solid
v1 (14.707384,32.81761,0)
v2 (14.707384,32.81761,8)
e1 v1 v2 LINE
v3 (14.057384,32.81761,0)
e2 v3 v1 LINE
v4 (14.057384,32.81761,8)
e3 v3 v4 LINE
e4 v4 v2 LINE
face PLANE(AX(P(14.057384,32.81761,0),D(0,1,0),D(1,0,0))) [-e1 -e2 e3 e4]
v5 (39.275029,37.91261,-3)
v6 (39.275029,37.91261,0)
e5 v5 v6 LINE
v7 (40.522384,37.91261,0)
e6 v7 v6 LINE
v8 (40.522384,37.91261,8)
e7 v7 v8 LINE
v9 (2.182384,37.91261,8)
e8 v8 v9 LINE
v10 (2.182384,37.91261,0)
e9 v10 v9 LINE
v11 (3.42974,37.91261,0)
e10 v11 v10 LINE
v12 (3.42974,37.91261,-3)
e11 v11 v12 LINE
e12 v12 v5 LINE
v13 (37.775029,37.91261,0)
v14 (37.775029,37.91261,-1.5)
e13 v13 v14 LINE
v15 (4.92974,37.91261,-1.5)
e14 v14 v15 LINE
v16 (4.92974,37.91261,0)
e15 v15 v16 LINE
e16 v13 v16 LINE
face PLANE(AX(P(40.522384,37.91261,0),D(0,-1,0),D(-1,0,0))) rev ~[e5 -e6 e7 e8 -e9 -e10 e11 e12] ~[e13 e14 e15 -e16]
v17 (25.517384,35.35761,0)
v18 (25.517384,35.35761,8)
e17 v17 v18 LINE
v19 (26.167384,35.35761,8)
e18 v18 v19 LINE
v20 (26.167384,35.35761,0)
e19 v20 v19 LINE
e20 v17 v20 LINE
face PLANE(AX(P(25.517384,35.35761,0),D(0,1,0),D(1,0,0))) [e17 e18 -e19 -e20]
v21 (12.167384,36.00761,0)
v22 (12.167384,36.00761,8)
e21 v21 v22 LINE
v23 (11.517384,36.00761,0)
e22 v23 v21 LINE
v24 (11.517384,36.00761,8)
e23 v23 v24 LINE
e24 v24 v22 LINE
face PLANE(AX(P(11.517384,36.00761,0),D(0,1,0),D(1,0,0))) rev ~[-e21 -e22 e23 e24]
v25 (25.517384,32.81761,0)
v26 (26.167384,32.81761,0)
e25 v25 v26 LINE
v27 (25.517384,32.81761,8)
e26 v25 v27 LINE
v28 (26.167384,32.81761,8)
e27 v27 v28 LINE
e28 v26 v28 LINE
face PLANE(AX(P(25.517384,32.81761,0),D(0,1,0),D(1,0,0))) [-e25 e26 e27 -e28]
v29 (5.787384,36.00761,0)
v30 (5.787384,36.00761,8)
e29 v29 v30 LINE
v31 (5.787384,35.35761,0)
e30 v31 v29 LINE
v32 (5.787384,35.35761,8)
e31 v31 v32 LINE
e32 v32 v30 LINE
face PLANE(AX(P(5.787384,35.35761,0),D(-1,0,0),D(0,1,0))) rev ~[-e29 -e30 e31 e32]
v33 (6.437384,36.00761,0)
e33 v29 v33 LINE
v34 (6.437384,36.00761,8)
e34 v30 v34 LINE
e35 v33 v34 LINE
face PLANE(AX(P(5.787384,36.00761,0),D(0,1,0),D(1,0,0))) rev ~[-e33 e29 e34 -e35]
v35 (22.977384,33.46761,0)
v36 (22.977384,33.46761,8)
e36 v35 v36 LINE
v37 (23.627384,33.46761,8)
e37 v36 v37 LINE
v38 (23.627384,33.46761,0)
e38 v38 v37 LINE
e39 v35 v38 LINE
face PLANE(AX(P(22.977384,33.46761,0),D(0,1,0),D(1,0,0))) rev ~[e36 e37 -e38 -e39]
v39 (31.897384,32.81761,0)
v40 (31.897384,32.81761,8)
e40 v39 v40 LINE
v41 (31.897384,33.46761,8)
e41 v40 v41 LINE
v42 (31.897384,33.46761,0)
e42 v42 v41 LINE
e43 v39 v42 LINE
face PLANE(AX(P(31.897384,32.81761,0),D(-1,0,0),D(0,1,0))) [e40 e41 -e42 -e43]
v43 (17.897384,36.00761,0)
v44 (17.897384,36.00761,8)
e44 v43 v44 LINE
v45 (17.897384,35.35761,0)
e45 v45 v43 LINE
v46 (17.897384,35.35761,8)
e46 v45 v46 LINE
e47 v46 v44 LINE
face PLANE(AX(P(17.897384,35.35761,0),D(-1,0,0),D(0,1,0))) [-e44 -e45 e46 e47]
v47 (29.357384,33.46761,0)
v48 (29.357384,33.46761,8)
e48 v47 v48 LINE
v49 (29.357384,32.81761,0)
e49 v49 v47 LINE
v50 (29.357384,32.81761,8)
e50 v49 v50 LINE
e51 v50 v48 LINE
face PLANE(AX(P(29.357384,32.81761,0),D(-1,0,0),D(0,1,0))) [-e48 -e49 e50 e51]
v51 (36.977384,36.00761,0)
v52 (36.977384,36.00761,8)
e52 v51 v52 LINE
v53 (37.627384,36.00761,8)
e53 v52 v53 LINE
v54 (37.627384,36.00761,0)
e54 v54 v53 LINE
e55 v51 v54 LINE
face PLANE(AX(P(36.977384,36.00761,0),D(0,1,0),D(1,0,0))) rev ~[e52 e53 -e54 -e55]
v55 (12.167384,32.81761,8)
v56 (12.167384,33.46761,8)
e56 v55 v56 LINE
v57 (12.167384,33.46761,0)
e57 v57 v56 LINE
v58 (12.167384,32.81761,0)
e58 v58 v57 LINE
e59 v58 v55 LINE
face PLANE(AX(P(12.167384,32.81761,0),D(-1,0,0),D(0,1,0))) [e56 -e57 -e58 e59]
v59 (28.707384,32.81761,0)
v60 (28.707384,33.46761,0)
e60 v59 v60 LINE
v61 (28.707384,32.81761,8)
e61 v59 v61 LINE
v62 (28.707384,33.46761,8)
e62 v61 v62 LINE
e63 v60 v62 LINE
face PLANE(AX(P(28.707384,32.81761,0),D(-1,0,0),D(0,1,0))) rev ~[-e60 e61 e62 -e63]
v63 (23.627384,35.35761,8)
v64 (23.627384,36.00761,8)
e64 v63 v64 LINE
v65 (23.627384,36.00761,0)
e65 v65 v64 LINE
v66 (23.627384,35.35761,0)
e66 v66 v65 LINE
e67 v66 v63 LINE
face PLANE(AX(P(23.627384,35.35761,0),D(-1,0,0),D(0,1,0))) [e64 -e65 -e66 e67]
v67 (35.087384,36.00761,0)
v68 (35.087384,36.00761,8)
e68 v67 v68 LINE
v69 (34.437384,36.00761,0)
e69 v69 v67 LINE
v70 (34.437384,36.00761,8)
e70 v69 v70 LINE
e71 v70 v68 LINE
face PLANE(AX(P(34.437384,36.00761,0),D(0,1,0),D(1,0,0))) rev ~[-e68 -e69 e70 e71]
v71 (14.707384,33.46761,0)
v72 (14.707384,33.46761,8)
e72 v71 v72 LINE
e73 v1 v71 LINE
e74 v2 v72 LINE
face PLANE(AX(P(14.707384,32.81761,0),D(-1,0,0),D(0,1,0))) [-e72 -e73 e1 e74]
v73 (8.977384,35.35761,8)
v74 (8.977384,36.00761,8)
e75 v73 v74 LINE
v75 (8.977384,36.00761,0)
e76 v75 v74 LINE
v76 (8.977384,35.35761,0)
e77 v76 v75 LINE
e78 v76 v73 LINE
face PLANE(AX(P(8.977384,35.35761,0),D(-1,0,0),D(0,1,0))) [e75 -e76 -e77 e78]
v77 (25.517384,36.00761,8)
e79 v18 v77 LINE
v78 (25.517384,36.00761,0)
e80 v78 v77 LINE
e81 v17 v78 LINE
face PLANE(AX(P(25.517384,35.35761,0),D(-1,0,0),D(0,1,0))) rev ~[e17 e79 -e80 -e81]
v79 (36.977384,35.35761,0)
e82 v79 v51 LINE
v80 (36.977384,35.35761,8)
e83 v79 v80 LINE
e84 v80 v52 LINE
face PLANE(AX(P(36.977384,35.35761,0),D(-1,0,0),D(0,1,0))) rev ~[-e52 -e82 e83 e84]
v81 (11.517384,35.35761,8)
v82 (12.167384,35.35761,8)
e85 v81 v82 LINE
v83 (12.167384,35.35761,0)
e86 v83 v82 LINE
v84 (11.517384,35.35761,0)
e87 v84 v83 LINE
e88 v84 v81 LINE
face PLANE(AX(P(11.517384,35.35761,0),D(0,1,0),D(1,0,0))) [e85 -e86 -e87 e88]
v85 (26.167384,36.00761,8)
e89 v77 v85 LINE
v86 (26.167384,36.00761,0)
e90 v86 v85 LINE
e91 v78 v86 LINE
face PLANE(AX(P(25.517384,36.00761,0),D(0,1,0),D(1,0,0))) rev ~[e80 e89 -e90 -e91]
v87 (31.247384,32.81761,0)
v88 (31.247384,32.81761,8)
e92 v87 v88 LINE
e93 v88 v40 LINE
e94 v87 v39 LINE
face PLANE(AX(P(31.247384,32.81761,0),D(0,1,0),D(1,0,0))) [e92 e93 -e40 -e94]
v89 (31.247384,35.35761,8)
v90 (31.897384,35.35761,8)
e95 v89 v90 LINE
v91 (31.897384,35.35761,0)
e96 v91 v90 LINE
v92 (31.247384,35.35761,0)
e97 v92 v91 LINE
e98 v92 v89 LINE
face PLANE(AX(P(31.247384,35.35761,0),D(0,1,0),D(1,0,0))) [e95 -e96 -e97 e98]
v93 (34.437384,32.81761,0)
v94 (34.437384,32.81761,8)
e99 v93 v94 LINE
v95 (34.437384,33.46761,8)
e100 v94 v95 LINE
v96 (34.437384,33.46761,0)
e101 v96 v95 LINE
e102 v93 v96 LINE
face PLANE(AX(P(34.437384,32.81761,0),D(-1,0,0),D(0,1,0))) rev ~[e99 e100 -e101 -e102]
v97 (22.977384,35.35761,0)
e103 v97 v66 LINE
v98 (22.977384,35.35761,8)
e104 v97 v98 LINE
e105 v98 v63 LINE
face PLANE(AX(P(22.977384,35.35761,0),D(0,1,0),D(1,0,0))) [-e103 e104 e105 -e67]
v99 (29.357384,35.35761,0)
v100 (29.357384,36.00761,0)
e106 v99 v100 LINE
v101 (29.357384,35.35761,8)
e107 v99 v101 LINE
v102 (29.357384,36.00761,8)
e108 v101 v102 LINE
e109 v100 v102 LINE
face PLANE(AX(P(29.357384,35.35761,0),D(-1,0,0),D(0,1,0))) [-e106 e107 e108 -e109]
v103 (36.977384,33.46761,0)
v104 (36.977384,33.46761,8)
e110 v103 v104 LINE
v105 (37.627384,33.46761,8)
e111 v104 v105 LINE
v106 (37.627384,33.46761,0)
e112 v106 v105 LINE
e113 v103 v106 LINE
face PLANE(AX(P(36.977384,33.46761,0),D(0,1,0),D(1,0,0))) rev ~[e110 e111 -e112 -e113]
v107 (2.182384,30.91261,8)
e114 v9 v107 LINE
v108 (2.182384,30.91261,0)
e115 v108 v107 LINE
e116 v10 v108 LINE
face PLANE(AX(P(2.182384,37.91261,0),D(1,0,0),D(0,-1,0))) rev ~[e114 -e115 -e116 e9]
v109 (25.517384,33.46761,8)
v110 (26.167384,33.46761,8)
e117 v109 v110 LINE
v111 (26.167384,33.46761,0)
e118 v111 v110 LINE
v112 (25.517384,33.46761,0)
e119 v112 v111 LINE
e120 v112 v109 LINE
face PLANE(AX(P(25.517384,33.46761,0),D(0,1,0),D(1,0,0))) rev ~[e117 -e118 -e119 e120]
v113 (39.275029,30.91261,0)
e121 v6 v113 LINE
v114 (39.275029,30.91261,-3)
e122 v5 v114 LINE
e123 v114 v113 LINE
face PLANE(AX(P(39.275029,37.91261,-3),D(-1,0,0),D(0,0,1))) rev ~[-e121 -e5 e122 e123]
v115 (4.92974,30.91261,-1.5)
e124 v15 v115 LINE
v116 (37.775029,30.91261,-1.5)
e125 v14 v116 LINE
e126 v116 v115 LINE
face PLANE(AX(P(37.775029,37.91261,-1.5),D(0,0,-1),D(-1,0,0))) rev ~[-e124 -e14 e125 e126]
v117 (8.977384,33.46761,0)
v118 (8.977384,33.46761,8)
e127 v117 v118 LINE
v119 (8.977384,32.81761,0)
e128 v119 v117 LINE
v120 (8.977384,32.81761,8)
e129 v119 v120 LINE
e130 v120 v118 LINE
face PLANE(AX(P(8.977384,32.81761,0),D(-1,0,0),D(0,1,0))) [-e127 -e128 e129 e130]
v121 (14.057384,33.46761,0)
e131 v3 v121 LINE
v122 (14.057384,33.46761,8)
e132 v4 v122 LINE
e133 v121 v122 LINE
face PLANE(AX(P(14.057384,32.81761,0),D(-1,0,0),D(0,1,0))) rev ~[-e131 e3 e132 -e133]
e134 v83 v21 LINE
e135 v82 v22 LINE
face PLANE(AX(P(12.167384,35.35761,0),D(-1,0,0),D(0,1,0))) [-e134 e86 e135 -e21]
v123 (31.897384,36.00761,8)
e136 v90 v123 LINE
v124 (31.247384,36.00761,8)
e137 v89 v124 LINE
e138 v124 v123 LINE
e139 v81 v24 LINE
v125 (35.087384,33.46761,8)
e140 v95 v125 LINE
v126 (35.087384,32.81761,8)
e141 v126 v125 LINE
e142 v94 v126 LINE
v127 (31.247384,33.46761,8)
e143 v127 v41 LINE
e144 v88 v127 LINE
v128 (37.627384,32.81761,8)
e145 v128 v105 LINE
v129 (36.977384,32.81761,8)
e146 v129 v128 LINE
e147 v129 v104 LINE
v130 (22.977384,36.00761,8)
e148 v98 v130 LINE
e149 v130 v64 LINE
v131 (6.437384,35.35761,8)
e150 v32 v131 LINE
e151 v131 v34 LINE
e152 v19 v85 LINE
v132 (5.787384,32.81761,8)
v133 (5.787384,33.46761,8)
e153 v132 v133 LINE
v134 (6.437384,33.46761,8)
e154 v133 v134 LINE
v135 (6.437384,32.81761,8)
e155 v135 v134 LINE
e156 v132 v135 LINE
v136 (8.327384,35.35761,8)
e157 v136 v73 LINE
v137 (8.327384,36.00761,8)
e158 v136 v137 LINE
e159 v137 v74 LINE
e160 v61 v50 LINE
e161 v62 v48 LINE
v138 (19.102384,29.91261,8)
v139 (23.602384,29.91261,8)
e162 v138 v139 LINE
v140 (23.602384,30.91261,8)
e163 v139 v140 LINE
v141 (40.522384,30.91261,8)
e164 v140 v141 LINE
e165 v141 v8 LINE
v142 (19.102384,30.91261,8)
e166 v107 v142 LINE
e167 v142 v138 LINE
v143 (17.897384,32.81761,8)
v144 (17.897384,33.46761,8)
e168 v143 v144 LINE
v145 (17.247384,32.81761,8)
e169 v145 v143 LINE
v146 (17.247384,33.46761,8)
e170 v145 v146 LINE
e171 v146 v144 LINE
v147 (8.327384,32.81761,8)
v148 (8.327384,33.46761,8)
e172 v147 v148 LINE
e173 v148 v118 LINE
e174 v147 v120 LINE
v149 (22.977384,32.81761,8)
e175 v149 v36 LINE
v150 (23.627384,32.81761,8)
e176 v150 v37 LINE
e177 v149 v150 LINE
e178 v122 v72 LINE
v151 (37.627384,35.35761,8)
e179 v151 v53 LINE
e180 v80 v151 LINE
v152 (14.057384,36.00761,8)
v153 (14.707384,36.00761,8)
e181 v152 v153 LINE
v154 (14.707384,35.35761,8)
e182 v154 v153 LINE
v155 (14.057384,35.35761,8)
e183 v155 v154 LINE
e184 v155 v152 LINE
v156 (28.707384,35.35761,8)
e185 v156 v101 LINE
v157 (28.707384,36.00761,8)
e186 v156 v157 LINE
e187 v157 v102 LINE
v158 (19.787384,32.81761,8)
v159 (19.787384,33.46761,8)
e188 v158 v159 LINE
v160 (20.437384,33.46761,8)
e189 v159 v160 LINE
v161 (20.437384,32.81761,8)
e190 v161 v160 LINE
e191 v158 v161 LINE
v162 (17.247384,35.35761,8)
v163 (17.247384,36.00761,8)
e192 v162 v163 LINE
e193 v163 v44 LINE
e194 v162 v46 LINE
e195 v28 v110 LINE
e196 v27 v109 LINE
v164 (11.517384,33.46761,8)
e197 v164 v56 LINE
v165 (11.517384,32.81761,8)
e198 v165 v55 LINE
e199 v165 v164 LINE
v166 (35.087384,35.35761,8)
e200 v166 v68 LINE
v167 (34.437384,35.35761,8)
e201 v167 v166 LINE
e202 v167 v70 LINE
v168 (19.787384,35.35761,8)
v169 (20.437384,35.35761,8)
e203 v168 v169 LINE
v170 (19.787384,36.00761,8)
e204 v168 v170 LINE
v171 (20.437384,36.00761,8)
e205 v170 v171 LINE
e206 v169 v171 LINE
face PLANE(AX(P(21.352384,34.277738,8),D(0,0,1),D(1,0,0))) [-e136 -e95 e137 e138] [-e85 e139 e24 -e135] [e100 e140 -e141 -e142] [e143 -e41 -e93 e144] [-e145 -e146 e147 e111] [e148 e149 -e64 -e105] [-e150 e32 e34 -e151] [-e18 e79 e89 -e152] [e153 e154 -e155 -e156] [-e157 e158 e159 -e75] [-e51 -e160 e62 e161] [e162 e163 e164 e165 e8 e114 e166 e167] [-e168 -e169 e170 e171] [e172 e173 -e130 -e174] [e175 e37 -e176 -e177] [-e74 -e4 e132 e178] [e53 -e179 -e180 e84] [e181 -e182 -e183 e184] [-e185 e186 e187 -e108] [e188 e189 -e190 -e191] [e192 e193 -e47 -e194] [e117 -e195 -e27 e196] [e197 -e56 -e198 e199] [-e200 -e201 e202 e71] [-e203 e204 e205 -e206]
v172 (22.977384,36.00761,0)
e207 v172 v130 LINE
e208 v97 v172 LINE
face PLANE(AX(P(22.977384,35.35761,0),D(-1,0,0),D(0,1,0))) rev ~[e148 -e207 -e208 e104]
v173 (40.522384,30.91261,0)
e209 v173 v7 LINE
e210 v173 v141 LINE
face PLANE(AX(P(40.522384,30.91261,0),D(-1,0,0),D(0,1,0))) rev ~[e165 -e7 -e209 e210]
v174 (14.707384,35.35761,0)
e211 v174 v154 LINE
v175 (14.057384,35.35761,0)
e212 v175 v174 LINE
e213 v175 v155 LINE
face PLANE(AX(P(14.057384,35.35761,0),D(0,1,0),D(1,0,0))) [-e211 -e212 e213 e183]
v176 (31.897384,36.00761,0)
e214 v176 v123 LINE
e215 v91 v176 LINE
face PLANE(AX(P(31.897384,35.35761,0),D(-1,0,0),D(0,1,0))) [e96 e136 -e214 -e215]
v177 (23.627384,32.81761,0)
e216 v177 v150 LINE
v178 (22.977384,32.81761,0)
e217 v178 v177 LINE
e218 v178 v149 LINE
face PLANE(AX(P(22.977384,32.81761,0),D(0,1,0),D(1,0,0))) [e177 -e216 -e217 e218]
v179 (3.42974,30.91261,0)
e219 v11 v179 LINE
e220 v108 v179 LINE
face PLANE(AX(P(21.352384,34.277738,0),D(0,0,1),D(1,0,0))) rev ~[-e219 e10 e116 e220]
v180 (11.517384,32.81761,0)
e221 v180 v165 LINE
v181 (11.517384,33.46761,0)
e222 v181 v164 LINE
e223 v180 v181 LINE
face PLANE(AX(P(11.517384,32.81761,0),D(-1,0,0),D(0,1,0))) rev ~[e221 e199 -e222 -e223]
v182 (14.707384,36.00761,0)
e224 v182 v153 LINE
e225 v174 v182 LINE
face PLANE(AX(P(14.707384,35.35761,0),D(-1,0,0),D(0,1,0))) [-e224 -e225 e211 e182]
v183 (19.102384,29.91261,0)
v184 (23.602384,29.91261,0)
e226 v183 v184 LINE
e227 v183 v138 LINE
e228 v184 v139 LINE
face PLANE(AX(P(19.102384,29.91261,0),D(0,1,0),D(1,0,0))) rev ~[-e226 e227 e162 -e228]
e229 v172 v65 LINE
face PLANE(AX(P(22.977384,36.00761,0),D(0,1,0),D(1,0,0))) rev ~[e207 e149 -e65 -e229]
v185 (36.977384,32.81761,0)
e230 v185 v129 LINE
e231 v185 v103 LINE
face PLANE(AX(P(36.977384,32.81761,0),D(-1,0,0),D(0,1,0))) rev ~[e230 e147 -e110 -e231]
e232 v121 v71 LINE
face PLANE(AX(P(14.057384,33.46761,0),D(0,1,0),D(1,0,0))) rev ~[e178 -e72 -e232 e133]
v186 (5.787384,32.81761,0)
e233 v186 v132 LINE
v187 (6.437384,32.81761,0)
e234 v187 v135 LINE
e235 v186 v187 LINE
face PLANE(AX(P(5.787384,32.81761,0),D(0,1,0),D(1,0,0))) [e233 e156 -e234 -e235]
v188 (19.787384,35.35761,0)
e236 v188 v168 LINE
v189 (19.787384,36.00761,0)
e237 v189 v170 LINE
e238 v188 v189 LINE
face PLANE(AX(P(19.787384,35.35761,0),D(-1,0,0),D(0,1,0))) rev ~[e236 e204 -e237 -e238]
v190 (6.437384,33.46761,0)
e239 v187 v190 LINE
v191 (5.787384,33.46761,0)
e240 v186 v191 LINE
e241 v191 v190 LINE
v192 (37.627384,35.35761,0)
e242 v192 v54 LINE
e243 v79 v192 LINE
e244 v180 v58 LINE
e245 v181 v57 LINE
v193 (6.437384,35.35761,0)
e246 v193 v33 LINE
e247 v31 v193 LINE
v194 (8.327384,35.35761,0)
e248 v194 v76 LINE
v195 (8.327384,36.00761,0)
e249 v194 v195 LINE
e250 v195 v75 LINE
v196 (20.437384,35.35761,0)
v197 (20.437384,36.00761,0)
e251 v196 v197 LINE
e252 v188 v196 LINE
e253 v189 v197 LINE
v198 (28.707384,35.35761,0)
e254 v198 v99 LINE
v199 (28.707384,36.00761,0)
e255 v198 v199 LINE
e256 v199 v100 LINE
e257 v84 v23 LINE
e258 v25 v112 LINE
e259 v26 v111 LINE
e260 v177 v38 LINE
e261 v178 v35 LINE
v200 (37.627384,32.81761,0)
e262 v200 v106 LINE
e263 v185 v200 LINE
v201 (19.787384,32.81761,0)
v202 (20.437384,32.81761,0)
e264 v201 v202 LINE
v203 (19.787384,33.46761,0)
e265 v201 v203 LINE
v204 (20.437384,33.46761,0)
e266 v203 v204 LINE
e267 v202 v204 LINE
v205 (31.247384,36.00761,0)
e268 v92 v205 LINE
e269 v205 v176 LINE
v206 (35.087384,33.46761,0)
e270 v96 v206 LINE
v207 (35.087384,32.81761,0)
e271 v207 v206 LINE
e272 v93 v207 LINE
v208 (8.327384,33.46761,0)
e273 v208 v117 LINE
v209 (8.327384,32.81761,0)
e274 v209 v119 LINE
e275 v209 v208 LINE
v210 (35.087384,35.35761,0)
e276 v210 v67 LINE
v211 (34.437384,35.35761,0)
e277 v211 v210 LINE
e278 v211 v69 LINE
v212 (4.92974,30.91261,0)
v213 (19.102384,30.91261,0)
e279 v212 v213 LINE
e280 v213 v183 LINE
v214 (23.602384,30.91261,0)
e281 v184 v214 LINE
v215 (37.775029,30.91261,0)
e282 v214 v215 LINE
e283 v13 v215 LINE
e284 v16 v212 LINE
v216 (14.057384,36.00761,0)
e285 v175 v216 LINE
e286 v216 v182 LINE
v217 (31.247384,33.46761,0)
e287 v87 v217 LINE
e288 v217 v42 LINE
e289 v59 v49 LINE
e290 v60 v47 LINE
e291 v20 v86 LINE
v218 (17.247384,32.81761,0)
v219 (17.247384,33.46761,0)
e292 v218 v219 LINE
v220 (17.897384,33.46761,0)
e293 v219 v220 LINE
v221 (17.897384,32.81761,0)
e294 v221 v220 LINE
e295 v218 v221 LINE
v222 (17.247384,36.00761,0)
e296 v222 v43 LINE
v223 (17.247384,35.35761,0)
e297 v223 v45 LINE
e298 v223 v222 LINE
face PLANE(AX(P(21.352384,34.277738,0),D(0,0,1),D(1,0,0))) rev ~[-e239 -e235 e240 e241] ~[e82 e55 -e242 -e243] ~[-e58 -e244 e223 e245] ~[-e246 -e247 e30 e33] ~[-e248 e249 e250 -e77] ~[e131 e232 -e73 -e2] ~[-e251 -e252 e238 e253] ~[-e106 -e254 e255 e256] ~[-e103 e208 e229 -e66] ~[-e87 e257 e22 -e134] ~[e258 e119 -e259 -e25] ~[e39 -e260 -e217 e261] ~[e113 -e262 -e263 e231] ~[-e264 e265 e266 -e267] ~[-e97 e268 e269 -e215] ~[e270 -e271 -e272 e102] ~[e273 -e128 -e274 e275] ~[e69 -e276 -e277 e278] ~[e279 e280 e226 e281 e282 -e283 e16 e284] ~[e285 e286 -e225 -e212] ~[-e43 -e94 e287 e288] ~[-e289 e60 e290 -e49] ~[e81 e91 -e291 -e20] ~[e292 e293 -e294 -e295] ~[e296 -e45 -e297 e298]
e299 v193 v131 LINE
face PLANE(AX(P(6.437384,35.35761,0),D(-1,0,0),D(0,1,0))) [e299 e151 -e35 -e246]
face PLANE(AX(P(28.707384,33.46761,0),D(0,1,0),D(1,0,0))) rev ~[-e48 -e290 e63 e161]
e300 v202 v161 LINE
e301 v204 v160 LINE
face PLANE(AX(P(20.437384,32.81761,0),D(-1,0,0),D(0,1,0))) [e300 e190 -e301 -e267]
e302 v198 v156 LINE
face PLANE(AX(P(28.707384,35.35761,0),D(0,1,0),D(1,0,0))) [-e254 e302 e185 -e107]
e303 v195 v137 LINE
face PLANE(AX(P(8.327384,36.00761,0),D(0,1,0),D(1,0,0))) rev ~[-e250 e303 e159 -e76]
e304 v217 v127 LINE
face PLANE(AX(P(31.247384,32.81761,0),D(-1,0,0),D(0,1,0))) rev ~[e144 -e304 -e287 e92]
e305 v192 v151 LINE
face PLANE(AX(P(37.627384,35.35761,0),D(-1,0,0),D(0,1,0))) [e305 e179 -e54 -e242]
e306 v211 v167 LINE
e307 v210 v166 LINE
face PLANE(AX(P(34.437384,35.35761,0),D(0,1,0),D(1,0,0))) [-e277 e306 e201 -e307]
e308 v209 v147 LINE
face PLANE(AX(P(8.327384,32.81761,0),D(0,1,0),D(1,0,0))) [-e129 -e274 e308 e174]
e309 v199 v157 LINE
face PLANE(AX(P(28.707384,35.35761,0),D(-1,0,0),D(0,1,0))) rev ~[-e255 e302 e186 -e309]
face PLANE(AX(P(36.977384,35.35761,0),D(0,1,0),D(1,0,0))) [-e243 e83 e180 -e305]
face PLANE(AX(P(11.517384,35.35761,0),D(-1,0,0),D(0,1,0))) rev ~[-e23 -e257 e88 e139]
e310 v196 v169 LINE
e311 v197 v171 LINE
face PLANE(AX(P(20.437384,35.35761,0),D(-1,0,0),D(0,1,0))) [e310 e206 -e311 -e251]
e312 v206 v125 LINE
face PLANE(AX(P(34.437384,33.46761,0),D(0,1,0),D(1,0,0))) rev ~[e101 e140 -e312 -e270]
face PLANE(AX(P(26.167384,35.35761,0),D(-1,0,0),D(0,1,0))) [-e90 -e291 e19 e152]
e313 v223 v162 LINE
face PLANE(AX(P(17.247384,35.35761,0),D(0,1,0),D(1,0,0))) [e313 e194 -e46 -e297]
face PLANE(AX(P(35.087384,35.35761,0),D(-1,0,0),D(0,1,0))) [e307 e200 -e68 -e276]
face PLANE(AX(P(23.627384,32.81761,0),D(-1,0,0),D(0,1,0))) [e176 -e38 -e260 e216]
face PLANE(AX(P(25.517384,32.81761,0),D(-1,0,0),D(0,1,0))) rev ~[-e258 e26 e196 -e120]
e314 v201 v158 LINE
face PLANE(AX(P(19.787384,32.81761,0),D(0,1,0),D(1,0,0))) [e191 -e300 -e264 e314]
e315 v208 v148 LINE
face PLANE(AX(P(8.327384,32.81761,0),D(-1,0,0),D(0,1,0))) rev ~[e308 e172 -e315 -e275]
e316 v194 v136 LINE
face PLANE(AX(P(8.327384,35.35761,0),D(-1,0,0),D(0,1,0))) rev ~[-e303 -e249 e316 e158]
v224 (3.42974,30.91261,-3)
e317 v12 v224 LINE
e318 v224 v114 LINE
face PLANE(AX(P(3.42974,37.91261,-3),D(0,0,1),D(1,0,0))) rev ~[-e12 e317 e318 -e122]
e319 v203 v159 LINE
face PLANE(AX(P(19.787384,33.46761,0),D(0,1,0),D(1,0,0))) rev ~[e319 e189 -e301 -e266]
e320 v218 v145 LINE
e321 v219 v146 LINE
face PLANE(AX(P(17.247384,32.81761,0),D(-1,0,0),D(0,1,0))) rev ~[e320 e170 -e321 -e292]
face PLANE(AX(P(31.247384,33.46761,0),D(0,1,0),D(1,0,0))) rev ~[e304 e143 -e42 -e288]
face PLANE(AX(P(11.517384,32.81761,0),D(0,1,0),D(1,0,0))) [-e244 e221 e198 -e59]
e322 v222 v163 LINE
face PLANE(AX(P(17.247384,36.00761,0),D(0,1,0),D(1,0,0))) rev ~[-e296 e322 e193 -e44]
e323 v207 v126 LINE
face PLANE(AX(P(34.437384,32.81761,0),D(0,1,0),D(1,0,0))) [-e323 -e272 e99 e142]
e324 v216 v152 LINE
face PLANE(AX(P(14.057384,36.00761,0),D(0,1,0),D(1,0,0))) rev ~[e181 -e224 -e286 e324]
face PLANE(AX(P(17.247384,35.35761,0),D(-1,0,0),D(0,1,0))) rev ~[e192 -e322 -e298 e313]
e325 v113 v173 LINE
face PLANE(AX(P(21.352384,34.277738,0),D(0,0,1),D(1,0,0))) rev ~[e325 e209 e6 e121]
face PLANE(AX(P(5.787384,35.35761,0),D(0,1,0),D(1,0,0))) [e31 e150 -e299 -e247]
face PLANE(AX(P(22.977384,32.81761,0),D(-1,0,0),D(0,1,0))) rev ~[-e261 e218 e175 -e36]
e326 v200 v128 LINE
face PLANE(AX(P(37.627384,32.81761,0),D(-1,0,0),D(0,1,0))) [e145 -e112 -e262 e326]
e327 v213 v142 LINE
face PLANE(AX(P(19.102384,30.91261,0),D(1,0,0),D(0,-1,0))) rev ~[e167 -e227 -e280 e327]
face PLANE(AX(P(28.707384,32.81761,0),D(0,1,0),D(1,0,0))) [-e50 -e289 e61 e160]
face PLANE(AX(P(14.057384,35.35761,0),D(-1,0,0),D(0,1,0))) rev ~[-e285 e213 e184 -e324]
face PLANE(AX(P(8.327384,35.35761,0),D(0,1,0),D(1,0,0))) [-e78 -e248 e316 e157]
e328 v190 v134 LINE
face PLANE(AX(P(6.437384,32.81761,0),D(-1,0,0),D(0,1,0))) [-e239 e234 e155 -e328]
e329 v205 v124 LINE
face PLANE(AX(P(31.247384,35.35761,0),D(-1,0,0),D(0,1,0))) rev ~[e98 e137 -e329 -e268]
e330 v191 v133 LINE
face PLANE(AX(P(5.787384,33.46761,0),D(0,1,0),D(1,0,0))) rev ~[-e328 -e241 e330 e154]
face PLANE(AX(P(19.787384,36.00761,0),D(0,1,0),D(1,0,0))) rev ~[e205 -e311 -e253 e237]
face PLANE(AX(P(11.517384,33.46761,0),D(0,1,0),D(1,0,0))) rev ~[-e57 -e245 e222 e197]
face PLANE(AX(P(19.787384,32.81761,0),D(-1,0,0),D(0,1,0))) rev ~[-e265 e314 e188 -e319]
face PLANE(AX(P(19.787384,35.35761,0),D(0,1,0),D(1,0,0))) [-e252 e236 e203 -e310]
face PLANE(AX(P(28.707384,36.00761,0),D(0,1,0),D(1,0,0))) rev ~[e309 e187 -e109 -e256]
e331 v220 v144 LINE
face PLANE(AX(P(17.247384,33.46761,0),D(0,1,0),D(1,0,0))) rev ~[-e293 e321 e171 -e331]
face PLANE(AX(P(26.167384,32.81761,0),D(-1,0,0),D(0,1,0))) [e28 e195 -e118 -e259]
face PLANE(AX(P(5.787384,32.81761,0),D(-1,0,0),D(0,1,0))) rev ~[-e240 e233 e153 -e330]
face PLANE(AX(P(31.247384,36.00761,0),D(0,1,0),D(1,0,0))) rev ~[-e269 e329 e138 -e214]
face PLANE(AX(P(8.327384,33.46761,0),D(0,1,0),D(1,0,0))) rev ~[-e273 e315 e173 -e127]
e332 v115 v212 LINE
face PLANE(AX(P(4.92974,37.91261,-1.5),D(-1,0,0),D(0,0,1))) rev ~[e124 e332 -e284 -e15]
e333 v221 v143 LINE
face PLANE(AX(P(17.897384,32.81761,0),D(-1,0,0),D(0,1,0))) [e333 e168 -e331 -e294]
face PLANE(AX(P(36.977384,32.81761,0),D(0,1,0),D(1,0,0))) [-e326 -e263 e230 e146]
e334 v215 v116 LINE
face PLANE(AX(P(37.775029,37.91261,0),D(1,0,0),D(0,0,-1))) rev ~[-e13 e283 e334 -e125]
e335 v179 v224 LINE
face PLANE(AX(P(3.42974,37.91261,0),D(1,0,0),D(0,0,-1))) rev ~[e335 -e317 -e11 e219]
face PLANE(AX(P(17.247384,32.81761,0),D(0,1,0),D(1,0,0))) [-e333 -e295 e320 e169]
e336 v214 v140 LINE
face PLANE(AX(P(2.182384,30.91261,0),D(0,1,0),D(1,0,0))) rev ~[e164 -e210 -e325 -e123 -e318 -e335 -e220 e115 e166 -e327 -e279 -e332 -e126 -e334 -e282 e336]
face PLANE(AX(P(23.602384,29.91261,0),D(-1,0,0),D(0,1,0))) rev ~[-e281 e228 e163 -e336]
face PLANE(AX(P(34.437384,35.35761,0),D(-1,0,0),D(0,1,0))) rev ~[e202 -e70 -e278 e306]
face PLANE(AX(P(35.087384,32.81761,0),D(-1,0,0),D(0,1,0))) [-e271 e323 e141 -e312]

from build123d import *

# Parameters (mm, degrees)
SKETCH1_W           = 0.65
SKETCH1_H           = 0.65
BOSS_EXTRUDE1_DEPTH = 8
BOSS_EXTRUDE2_DEPTH = 7


with BuildPart() as part:
    # Sketch1 → Boss-Extrude1 (new body)
    with BuildSketch(Plane.XY):
        Polygon((2.182384268, 30.912610308), (19.102384268, 30.912610308), (19.102384268, 29.912610308), (23.602384268, 29.912610308), (23.602384268, 30.912610308), (40.522384268, 30.912610308), (40.522384268, 37.912610308), (2.182384268, 37.912610308), align=None)
        with Locations((6.112384268, 33.142610308)):
            Rectangle(SKETCH1_W, SKETCH1_H, mode=Mode.SUBTRACT)
        with Locations((8.652384268, 33.142610308)):
            Rectangle(SKETCH1_W, SKETCH1_H, mode=Mode.SUBTRACT)
        with Locations((6.112384268, 35.682610308)):
            Rectangle(SKETCH1_W, SKETCH1_H, mode=Mode.SUBTRACT)
        with Locations((8.652384268, 35.682610308)):
            Rectangle(SKETCH1_W, SKETCH1_H, mode=Mode.SUBTRACT)
        with Locations((14.382384268, 33.142610308)):
            Rectangle(SKETCH1_W, SKETCH1_H, mode=Mode.SUBTRACT)
        with Locations((11.842384268, 35.682610308)):
            Rectangle(SKETCH1_W, SKETCH1_H, mode=Mode.SUBTRACT)
        with Locations((11.842384268, 33.142610308)):
            Rectangle(SKETCH1_W, SKETCH1_H, mode=Mode.SUBTRACT)
        with Locations((14.382384268, 35.682610308)):
            Rectangle(SKETCH1_W, SKETCH1_H, mode=Mode.SUBTRACT)
        with Locations((20.112384268, 33.142610308)):
            Rectangle(SKETCH1_W, SKETCH1_H, mode=Mode.SUBTRACT)
        with Locations((17.572384268, 35.682610308)):
            Rectangle(SKETCH1_W, SKETCH1_H, mode=Mode.SUBTRACT)
        with Locations((17.572384268, 33.142610308)):
            Rectangle(SKETCH1_W, SKETCH1_H, mode=Mode.SUBTRACT)
        with Locations((20.112384268, 35.682610308)):
            Rectangle(SKETCH1_W, SKETCH1_H, mode=Mode.SUBTRACT)
        with Locations((25.842384268, 33.142610308)):
            Rectangle(SKETCH1_W, SKETCH1_H, mode=Mode.SUBTRACT)
        with Locations((23.302384268, 35.682610308)):
            Rectangle(SKETCH1_W, SKETCH1_H, mode=Mode.SUBTRACT)
        with Locations((23.302384268, 33.142610308)):
            Rectangle(SKETCH1_W, SKETCH1_H, mode=Mode.SUBTRACT)
        with Locations((25.842384268, 35.682610308)):
            Rectangle(SKETCH1_W, SKETCH1_H, mode=Mode.SUBTRACT)
        with Locations((31.572384268, 33.142610308)):
            Rectangle(SKETCH1_W, SKETCH1_H, mode=Mode.SUBTRACT)
        with Locations((29.032384268, 35.682610308)):
            Rectangle(SKETCH1_W, SKETCH1_H, mode=Mode.SUBTRACT)
        with Locations((29.032384268, 33.142610308)):
            Rectangle(SKETCH1_W, SKETCH1_H, mode=Mode.SUBTRACT)
        with Locations((31.572384268, 35.682610308)):
            Rectangle(SKETCH1_W, SKETCH1_H, mode=Mode.SUBTRACT)
        with Locations((37.302384268, 33.142610308)):
            Rectangle(SKETCH1_W, SKETCH1_H, mode=Mode.SUBTRACT)
        with Locations((34.762384268, 35.682610308)):
            Rectangle(SKETCH1_W, SKETCH1_H, mode=Mode.SUBTRACT)
        with Locations((34.762384268, 33.142610308)):
            Rectangle(SKETCH1_W, SKETCH1_H, mode=Mode.SUBTRACT)
        with Locations((37.302384268, 35.682610308)):
            Rectangle(SKETCH1_W, SKETCH1_H, mode=Mode.SUBTRACT)
    extrude(amount=BOSS_EXTRUDE1_DEPTH)

    # Sketch2 → Boss-Extrude2 (add)
    with BuildSketch(Plane(origin=(0, 37.912610308, 0), x_dir=(1, 0, 0), z_dir=(0, 1, 0))):
        Polygon((3.429740031, 0), (3.429740031, 3), (39.275028505, 3), (39.275028505, 0), (37.775028505, 0), (37.775028505, 1.5), (4.929740031, 1.5), (4.929740031, 0), align=None)
    extrude(amount=-BOSS_EXTRUDE2_DEPTH)


solid = part.part
